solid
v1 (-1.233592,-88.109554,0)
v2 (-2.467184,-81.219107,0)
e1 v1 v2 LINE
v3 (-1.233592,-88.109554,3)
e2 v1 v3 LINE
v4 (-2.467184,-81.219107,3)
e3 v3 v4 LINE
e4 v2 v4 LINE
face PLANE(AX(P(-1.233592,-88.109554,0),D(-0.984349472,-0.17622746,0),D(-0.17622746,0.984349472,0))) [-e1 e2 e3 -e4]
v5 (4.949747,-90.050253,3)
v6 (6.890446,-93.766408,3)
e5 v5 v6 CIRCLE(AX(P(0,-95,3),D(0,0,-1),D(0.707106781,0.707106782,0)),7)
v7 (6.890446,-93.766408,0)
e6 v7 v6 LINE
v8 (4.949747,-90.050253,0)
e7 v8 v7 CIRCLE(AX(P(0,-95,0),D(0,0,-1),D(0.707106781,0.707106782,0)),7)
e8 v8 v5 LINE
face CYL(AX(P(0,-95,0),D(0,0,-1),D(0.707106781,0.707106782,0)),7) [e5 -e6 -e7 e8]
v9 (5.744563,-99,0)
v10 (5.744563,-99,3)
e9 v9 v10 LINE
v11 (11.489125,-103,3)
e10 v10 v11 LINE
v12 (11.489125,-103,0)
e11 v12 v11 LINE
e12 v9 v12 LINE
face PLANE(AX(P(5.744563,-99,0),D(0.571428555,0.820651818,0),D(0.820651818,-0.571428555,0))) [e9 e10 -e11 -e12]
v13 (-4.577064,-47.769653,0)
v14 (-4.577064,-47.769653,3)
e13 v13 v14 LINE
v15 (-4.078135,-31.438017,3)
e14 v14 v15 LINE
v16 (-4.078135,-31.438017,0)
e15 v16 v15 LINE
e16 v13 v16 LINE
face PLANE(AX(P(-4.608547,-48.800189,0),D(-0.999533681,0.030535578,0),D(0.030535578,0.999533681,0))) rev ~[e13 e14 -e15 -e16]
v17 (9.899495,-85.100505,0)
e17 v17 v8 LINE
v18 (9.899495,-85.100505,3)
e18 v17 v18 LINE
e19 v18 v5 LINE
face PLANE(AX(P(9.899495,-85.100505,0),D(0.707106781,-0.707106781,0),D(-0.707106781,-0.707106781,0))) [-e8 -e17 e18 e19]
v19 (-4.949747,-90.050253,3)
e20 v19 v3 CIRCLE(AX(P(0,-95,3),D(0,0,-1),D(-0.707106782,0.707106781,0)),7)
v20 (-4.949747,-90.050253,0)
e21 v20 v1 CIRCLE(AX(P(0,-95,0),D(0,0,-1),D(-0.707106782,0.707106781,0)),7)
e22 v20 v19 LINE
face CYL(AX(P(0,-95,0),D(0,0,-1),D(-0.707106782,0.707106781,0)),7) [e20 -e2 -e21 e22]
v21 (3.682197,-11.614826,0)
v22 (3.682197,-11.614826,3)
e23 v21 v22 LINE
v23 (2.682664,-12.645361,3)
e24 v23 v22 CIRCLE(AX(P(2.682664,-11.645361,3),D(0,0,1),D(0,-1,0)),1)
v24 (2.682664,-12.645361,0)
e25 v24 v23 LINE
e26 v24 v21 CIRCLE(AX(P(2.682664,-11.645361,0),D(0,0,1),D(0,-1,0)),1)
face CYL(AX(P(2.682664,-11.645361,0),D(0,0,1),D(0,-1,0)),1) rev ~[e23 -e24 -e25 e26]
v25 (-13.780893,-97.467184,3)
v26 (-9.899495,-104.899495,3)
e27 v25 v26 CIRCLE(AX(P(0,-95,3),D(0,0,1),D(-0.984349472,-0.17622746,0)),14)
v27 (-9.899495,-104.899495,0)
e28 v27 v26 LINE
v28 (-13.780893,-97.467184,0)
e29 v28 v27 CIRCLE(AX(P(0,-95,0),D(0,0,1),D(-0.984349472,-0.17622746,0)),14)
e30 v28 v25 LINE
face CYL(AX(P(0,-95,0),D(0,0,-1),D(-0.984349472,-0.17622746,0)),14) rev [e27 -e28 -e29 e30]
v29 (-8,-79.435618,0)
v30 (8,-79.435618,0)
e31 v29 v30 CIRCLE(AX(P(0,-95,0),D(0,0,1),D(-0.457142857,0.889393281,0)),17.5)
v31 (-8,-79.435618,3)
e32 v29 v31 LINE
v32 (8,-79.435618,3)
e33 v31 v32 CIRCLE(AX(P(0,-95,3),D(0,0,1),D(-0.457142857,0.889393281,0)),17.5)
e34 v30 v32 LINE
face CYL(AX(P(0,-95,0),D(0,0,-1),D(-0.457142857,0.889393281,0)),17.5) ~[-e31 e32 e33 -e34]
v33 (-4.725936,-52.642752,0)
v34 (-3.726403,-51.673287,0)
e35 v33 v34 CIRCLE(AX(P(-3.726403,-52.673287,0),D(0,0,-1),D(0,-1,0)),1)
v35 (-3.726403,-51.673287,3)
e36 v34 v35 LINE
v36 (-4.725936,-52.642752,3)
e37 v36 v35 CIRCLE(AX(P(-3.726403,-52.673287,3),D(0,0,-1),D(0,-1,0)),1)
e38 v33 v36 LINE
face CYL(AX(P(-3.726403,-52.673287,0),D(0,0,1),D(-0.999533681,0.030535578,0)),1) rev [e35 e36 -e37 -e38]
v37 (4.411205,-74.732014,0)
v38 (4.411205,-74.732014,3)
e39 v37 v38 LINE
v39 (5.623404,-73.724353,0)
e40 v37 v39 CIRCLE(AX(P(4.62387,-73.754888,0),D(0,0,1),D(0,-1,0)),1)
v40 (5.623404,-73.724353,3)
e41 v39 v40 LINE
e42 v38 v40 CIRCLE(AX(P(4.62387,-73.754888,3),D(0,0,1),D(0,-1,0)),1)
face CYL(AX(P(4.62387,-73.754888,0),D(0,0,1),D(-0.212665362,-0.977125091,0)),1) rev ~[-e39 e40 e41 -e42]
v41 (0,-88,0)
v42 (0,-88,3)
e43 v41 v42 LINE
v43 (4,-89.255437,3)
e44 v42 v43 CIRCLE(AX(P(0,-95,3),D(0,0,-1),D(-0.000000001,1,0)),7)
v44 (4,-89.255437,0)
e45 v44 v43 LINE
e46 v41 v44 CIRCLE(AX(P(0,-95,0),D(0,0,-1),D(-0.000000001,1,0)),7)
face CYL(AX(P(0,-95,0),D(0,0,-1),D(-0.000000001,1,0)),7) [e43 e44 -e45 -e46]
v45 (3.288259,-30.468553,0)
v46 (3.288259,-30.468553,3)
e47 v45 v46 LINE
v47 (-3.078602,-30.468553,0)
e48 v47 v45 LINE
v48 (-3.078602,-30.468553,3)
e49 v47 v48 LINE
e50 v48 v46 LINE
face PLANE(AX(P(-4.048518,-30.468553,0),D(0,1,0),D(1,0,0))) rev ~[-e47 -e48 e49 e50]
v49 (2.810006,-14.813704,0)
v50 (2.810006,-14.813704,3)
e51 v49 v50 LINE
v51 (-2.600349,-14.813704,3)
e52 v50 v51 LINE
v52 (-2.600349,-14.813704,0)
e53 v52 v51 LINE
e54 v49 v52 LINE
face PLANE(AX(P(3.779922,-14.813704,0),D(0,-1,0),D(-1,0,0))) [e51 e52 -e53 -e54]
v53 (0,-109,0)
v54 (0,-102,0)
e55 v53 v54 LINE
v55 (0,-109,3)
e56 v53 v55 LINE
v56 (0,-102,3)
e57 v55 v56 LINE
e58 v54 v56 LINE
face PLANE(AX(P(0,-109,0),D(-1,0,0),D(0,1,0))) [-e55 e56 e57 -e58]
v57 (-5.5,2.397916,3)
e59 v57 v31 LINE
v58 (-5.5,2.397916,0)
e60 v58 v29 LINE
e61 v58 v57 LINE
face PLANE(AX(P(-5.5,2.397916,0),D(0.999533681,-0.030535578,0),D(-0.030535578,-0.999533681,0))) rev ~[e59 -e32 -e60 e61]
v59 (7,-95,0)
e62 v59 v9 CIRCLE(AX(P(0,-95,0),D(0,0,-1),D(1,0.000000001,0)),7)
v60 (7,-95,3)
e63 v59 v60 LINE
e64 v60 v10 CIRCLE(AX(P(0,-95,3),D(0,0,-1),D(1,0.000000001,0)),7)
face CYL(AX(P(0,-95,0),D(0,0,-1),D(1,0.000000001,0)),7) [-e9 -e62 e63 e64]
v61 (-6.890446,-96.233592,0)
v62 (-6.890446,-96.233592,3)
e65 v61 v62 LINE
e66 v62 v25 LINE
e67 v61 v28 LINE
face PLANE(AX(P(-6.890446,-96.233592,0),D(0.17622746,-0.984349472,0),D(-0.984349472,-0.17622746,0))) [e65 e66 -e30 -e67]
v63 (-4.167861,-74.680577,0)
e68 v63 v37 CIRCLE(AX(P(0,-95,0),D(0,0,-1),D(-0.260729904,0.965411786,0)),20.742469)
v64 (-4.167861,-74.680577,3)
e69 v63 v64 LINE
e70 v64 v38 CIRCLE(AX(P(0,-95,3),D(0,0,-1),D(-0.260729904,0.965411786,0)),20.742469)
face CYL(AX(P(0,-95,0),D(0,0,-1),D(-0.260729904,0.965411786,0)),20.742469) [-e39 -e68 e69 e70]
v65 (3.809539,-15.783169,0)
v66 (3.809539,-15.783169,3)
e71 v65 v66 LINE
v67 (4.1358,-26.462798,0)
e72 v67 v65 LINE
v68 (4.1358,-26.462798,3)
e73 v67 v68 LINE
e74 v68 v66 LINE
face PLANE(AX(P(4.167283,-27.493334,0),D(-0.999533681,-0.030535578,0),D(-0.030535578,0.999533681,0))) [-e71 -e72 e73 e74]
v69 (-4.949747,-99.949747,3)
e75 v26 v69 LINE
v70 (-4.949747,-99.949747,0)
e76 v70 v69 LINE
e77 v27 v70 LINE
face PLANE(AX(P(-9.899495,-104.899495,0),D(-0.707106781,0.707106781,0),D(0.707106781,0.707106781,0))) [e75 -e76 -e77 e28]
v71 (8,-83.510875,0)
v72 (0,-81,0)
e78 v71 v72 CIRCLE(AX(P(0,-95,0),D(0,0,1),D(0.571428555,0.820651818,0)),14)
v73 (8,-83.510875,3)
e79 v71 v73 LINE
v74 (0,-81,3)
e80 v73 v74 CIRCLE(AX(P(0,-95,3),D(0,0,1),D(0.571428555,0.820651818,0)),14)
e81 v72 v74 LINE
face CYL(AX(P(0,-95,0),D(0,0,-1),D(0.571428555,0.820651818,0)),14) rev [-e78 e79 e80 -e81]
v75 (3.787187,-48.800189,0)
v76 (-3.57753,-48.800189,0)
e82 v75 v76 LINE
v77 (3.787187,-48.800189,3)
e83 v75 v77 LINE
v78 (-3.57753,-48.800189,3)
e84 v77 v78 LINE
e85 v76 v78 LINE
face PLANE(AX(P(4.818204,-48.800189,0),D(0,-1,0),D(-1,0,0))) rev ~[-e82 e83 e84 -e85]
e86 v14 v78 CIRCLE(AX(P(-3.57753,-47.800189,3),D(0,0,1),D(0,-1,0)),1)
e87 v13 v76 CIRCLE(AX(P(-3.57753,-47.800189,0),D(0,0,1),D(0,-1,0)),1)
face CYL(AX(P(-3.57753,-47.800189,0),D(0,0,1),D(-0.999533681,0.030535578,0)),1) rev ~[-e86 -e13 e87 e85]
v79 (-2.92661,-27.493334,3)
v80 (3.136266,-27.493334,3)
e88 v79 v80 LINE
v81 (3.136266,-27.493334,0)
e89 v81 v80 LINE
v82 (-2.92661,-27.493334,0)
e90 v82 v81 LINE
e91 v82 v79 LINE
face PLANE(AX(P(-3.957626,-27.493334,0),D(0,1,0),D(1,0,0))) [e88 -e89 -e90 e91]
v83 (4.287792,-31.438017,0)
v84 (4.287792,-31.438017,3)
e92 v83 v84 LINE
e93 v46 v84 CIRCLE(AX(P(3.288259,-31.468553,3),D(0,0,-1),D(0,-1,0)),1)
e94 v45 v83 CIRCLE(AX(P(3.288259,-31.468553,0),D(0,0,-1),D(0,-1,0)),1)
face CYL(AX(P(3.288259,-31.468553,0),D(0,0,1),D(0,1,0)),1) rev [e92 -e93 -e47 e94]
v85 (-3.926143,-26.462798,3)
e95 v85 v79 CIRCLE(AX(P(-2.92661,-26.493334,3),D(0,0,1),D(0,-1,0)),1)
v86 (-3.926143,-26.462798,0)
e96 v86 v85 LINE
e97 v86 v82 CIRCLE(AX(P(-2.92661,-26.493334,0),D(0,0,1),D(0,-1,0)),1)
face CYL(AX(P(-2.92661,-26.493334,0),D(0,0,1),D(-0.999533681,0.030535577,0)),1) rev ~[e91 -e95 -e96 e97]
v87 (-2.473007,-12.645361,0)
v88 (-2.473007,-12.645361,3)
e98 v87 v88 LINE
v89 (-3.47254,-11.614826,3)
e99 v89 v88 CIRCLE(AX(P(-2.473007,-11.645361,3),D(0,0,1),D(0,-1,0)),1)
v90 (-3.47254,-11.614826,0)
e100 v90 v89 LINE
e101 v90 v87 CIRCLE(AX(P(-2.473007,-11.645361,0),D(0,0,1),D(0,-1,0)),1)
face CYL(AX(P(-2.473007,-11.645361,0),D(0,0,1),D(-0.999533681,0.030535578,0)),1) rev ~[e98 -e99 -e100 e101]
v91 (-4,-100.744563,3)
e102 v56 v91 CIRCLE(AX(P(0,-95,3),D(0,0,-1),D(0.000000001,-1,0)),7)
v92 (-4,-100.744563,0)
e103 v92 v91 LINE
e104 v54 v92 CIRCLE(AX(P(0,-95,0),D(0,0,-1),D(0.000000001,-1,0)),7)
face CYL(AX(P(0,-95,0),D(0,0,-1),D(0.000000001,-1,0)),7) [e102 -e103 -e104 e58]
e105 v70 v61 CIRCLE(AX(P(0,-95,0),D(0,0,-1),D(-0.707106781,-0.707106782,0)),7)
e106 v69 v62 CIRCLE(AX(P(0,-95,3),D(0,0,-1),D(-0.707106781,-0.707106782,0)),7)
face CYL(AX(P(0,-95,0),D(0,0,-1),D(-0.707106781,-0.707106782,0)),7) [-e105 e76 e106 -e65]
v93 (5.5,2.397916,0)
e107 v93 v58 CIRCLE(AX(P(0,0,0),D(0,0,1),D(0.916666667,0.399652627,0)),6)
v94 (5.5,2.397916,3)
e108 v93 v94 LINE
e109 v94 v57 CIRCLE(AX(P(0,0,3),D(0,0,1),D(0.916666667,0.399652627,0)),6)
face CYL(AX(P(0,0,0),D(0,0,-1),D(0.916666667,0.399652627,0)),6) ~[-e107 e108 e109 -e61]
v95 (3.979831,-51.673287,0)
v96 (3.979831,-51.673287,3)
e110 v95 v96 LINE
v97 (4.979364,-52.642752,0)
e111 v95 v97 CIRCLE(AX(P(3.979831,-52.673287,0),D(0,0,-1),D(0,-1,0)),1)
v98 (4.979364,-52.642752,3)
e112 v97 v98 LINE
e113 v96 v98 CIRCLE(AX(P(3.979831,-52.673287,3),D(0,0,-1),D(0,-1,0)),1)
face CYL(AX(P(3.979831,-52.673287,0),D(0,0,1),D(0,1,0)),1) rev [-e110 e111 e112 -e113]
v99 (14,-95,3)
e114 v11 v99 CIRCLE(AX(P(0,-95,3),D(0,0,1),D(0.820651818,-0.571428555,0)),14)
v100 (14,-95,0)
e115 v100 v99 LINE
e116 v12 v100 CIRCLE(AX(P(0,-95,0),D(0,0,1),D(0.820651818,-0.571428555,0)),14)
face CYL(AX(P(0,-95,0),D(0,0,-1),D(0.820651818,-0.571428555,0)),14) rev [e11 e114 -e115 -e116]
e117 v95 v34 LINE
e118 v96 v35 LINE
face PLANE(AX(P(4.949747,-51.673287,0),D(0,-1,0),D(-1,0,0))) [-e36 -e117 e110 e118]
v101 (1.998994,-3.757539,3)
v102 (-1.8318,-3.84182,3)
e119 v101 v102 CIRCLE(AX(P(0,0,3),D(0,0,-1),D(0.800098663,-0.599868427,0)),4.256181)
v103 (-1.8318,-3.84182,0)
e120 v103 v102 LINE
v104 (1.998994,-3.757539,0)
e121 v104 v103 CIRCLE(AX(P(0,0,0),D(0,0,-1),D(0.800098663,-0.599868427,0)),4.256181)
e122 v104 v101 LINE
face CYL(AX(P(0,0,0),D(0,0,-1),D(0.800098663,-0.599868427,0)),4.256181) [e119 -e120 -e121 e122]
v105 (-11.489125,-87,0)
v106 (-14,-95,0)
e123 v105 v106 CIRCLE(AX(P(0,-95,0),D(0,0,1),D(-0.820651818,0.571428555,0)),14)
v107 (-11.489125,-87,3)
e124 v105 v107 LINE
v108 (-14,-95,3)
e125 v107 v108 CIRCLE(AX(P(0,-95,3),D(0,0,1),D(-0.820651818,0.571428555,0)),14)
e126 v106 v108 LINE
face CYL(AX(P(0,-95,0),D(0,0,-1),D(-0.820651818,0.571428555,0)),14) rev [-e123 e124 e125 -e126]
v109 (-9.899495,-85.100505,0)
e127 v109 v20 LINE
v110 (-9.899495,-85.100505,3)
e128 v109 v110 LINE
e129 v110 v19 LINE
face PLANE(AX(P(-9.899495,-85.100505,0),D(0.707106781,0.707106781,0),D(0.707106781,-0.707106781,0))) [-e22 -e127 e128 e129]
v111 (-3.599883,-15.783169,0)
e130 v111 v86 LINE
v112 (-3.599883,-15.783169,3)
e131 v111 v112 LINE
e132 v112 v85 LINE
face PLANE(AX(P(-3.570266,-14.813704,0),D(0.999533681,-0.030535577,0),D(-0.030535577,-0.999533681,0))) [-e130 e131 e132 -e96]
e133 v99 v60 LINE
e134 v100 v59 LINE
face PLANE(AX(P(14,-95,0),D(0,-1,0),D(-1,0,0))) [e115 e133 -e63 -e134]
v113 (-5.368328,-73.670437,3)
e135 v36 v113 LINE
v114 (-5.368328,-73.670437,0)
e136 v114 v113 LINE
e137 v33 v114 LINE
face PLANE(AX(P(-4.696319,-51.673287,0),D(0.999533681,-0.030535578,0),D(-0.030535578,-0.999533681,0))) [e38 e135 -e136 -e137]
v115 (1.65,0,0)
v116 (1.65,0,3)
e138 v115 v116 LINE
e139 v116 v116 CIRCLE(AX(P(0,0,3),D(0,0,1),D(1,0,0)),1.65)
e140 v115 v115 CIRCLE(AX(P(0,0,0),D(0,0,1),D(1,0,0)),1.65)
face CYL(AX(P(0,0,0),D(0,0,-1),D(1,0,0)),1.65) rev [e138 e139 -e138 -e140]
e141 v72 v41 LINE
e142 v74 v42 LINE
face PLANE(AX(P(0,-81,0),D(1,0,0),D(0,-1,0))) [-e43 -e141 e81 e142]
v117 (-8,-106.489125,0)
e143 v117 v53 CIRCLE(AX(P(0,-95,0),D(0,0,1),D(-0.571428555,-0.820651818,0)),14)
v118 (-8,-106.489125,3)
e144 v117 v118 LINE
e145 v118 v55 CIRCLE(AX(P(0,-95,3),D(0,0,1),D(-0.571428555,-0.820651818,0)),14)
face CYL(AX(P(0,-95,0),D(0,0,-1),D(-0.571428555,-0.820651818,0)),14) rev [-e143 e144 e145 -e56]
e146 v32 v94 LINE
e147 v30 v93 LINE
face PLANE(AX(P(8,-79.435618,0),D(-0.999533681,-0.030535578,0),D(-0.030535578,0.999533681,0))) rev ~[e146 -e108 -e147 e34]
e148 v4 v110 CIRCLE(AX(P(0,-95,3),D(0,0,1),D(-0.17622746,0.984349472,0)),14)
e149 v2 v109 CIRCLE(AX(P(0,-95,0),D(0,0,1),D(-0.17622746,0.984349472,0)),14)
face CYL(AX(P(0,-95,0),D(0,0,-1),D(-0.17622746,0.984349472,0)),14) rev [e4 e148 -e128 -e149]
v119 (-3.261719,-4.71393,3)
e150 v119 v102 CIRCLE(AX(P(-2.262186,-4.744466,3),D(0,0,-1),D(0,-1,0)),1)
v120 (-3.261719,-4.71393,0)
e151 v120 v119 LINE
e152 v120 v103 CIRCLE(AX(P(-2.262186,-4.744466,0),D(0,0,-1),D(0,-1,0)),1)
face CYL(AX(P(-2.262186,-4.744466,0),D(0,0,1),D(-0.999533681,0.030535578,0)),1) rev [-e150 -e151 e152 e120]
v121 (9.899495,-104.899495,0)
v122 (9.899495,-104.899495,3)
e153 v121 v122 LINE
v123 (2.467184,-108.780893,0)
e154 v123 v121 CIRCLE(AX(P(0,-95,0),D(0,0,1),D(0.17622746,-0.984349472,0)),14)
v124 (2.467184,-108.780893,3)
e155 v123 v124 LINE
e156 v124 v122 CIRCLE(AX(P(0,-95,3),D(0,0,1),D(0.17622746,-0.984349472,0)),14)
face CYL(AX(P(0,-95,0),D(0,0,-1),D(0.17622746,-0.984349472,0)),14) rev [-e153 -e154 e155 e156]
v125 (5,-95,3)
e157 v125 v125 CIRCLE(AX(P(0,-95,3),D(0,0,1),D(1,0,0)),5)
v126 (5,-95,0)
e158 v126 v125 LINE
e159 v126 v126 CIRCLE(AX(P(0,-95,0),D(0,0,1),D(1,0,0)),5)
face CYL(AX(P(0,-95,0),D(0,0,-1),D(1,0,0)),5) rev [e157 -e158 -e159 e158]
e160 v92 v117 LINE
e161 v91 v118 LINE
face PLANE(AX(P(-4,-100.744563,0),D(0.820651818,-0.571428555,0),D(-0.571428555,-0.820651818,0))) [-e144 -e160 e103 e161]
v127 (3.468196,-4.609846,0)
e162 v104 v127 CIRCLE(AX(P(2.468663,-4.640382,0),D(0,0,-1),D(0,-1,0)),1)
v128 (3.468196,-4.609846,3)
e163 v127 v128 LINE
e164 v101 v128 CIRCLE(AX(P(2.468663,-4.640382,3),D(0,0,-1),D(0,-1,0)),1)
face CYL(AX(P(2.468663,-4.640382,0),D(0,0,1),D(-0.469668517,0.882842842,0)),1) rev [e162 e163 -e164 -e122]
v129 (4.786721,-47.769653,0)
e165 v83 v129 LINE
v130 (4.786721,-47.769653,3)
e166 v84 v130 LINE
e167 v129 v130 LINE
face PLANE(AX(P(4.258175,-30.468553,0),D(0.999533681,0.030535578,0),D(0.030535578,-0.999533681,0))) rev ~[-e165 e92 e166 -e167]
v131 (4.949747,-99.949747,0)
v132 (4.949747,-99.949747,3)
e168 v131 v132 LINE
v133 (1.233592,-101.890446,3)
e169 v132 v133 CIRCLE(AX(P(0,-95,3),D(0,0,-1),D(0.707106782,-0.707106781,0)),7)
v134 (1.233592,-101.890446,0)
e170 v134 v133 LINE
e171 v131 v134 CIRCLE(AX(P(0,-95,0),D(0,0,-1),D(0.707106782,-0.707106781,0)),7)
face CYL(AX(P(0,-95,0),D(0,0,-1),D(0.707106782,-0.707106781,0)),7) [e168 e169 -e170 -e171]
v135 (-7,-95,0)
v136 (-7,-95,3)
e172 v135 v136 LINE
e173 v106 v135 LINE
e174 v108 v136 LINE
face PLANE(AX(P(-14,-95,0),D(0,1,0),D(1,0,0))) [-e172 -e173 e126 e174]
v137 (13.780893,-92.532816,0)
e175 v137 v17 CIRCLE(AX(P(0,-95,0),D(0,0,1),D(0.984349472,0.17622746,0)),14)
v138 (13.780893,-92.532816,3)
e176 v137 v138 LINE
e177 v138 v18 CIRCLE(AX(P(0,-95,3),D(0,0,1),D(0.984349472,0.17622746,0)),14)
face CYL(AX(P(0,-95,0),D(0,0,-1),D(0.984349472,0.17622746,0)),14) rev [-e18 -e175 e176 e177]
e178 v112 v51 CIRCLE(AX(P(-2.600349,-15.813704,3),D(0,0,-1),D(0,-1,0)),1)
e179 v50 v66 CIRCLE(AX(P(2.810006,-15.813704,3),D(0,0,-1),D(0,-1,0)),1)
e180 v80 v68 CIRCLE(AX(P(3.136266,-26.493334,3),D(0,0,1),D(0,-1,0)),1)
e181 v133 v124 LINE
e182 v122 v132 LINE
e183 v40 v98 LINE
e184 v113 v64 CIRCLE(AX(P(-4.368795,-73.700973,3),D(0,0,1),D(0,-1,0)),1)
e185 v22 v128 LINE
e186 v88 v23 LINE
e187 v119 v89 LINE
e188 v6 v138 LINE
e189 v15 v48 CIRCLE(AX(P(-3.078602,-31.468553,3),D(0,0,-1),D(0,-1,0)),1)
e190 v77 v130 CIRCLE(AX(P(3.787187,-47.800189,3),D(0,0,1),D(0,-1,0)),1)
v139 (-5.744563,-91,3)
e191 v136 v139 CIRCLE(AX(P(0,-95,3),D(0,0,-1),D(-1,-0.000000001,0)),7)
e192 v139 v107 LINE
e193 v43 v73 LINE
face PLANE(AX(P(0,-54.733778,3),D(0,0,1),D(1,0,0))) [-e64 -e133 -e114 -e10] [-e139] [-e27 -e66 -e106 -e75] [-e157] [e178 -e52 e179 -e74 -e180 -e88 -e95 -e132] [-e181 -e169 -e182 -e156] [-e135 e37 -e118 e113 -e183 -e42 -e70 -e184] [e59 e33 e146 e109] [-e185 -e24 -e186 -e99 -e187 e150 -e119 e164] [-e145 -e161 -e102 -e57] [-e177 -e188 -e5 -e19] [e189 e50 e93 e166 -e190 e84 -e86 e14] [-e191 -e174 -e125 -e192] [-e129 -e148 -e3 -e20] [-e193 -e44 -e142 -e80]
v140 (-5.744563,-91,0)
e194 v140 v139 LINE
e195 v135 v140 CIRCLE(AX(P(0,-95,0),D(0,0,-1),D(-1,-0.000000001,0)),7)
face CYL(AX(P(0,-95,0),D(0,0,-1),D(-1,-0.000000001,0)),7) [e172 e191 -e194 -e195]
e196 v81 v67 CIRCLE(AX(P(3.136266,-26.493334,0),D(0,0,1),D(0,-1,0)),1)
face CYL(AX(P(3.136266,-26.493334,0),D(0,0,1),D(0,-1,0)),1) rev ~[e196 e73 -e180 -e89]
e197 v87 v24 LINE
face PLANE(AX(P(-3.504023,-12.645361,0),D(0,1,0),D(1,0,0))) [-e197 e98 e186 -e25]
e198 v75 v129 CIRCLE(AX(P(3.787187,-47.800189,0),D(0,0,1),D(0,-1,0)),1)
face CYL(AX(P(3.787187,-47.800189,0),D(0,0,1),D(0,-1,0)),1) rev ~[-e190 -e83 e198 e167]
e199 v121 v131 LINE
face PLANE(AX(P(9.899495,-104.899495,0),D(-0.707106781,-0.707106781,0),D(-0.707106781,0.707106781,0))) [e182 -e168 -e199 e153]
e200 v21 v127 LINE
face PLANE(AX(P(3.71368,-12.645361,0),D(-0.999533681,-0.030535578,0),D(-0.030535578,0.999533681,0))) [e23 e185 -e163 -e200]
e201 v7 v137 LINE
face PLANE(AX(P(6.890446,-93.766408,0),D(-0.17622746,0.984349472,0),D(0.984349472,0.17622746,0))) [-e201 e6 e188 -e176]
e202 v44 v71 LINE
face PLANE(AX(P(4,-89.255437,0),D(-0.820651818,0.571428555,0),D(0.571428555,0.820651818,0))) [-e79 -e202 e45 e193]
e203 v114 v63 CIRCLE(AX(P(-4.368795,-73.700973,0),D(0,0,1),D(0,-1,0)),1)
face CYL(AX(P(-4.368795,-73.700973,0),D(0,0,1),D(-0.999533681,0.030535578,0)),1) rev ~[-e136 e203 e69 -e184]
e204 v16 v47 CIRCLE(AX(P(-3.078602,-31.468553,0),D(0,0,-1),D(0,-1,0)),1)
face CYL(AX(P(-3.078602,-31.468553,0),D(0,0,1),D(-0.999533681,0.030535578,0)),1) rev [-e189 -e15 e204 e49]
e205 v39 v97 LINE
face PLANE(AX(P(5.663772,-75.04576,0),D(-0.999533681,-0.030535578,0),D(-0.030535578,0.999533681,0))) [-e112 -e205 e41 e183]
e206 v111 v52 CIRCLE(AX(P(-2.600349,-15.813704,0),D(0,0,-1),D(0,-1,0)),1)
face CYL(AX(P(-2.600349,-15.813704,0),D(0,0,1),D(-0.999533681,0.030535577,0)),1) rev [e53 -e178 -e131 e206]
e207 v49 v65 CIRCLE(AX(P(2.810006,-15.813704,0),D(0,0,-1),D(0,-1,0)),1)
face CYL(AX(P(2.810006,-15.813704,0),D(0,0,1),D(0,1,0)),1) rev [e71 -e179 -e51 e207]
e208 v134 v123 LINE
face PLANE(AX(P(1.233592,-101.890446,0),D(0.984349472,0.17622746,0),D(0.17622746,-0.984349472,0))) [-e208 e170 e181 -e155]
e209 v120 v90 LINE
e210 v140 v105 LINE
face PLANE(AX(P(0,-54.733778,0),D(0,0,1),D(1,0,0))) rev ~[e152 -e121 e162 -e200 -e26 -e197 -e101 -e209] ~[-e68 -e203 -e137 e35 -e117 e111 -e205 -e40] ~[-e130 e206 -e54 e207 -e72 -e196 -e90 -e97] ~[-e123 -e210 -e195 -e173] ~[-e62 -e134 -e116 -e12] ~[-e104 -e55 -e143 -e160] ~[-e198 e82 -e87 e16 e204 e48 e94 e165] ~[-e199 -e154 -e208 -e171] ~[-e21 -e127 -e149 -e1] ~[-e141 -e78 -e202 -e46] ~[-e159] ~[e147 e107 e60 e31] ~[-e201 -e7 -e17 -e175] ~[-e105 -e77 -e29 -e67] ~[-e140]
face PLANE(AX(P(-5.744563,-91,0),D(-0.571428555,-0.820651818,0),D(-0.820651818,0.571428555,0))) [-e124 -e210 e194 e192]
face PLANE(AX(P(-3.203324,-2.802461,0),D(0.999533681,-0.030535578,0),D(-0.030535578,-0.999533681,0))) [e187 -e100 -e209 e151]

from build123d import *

# Parameters (mm, degrees)
SKETCH_1_R      = 1.65
SKETCH_1_R_2    = 5
EXTRUDE_1_DEPTH = 3
FILLET_1_R      = 1


with BuildPart() as part:
    # 草图1 → 凸台-拉伸1 (new body)
    with BuildSketch(Plane.XY):
        with BuildLine():
            Line((-5.5, 2.397915762), (-8, -79.435617584))
            ThreePointArc((-8, -79.435617584), (0, -112.5), (8, -79.435617584))
            Line((8, -79.435617584), (5.5, 2.397915762))
            ThreePointArc((5.5, 2.397915762), (0, 6), (-5.5, 2.397915762))
        make_face()
        Circle(SKETCH_1_R, mode=Mode.SUBTRACT)
        with Locations((0, -95)):
            Circle(SKETCH_1_R_2, mode=Mode.SUBTRACT)
        with BuildLine():
            Line((-3.203324226, -2.80246125), (-3.504023082, -12.645361196))
            Line((-3.504023082, -12.645361196), (3.713679897, -12.645361196))
            Line((3.713679897, -12.645361196), (3.40536458, -2.553148492))
            ThreePointArc((3.40536458, -2.553148492), (0.16045027, -4.253155401), (-3.203324226, -2.80246125))
        make_face(mode=Mode.SUBTRACT)
        Polygon((-3.570265581, -14.813704302), (-3.957626018, -27.493333612), (4.167282834, -27.493333612), (3.779922396, -14.813704302), align=None, mode=Mode.SUBTRACT)
        Polygon((-4.048518432, -30.468552565), (4.258175248, -30.468552565), (4.818203506, -48.800189025), (-4.60854669, -48.800189025), align=None, mode=Mode.SUBTRACT)
        with BuildLine():
            Line((-4.696319338, -51.673287395), (-5.408181825, -74.974976421))
            ThreePointArc((-5.408181825, -74.974976421), (0.132605518, -74.257955362), (5.66377239, -75.045760292))
            Line((5.66377239, -75.045760292), (4.949747468, -51.673287395))
            Line((4.949747468, -51.673287395), (-4.696319338, -51.673287395))
        make_face(mode=Mode.SUBTRACT)
        with BuildLine():
            Line((0, -81), (0, -88))
            ThreePointArc((0, -88), (2.096194278, -88.321229937), (3.999999882, -89.255437272))
            Line((3.999999882, -89.255437272), (7.999999765, -83.510874543))
            ThreePointArc((7.999999765, -83.510874543), (4.192388556, -81.642459875), (0, -81))
        make_face(mode=Mode.SUBTRACT)
        with BuildLine():
            Line((9.899494937, -85.100505063), (4.949747468, -90.050252532))
            ThreePointArc((4.949747468, -90.050252532), (6.20483679, -91.759629587), (6.890446302, -93.766407781))
            Line((6.890446302, -93.766407781), (13.780892604, -92.532815563))
            ThreePointArc((13.780892604, -92.532815563), (12.40967358, -88.519259175), (9.899494937, -85.100505063))
        make_face(mode=Mode.SUBTRACT)
        with BuildLine():
            Line((14, -95), (7, -95))
            ThreePointArc((7, -95), (6.678770063, -97.096194278), (5.744562728, -98.999999882))
            Line((5.744562728, -98.999999882), (11.489125457, -102.999999765))
            ThreePointArc((11.489125457, -102.999999765), (13.357540125, -99.192388556), (14, -95))
        make_face(mode=Mode.SUBTRACT)
        with BuildLine():
            Line((9.899494937, -104.899494937), (4.949747468, -99.949747468))
            ThreePointArc((4.949747468, -99.949747468), (3.240370413, -101.20483679), (1.233592219, -101.890446302))
            Line((1.233592219, -101.890446302), (2.467184437, -108.780892604))
            ThreePointArc((2.467184437, -108.780892604), (6.480740825, -107.40967358), (9.899494937, -104.899494937))
        make_face(mode=Mode.SUBTRACT)
        with BuildLine():
            Line((0, -109), (0, -102))
            ThreePointArc((0, -102), (-2.096194278, -101.678770063), (-3.999999882, -100.744562728))
            Line((-3.999999882, -100.744562728), (-7.999999765, -106.489125457))
            ThreePointArc((-7.999999765, -106.489125457), (-4.192388556, -108.357540125), (0, -109))
        make_face(mode=Mode.SUBTRACT)
        with BuildLine():
            Line((-9.899494937, -104.899494937), (-4.949747468, -99.949747468))
            ThreePointArc((-4.949747468, -99.949747468), (-6.20483679, -98.240370413), (-6.890446302, -96.233592219))
            Line((-6.890446302, -96.233592219), (-13.780892604, -97.467184437))
            ThreePointArc((-13.780892604, -97.467184437), (-12.40967358, -101.480740825), (-9.899494937, -104.899494937))
        make_face(mode=Mode.SUBTRACT)
        with BuildLine():
            Line((-14, -95), (-7, -95))
            ThreePointArc((-7, -95), (-6.678770063, -92.903805722), (-5.744562728, -91.000000118))
            Line((-5.744562728, -91.000000118), (-11.489125457, -87.000000235))
            ThreePointArc((-11.489125457, -87.000000235), (-13.357540125, -90.807611444), (-14, -95))
        make_face(mode=Mode.SUBTRACT)
        with BuildLine():
            Line((-9.899494937, -85.100505063), (-4.949747468, -90.050252532))
            ThreePointArc((-4.949747468, -90.050252532), (-3.240370413, -88.79516321), (-1.233592219, -88.109553698))
            Line((-1.233592219, -88.109553698), (-2.467184437, -81.219107396))
            ThreePointArc((-2.467184437, -81.219107396), (-6.480740825, -82.59032642), (-9.899494937, -85.100505063))
        make_face(mode=Mode.SUBTRACT)
    extrude(amount=EXTRUDE_1_DEPTH)

    # 圆角1
    fillet_1_edges = [part.edges().sort_by_distance(p)[0] for p in [
        (3.40536458, -2.553148492, 1.5),
        (-3.203324226, -2.80246125, 1.5),
        (-3.504023082, -12.645361196, 1.5),
        (3.713679897, -12.645361196, 1.5),
        (-5.408181825, -74.974976421, 1.5),
        (5.66377239, -75.045760292, 1.5),
        (4.949747468, -51.673287395, 1.5),
        (-4.696319338, -51.673287395, 1.5),
        (3.779922396, -14.813704302, 1.5),
        (-3.570265581, -14.813704302, 1.5),
        (-3.957626018, -27.493333612, 1.5),
        (4.167282834, -27.493333612, 1.5),
        (-4.048518432, -30.468552565, 1.5),
        (-4.60854669, -48.800189025, 1.5),
        (4.818203506, -48.800189025, 1.5),
        (4.258175248, -30.468552565, 1.5),
    ]]
    fillet(fillet_1_edges, radius=FILLET_1_R)


solid = part.part
